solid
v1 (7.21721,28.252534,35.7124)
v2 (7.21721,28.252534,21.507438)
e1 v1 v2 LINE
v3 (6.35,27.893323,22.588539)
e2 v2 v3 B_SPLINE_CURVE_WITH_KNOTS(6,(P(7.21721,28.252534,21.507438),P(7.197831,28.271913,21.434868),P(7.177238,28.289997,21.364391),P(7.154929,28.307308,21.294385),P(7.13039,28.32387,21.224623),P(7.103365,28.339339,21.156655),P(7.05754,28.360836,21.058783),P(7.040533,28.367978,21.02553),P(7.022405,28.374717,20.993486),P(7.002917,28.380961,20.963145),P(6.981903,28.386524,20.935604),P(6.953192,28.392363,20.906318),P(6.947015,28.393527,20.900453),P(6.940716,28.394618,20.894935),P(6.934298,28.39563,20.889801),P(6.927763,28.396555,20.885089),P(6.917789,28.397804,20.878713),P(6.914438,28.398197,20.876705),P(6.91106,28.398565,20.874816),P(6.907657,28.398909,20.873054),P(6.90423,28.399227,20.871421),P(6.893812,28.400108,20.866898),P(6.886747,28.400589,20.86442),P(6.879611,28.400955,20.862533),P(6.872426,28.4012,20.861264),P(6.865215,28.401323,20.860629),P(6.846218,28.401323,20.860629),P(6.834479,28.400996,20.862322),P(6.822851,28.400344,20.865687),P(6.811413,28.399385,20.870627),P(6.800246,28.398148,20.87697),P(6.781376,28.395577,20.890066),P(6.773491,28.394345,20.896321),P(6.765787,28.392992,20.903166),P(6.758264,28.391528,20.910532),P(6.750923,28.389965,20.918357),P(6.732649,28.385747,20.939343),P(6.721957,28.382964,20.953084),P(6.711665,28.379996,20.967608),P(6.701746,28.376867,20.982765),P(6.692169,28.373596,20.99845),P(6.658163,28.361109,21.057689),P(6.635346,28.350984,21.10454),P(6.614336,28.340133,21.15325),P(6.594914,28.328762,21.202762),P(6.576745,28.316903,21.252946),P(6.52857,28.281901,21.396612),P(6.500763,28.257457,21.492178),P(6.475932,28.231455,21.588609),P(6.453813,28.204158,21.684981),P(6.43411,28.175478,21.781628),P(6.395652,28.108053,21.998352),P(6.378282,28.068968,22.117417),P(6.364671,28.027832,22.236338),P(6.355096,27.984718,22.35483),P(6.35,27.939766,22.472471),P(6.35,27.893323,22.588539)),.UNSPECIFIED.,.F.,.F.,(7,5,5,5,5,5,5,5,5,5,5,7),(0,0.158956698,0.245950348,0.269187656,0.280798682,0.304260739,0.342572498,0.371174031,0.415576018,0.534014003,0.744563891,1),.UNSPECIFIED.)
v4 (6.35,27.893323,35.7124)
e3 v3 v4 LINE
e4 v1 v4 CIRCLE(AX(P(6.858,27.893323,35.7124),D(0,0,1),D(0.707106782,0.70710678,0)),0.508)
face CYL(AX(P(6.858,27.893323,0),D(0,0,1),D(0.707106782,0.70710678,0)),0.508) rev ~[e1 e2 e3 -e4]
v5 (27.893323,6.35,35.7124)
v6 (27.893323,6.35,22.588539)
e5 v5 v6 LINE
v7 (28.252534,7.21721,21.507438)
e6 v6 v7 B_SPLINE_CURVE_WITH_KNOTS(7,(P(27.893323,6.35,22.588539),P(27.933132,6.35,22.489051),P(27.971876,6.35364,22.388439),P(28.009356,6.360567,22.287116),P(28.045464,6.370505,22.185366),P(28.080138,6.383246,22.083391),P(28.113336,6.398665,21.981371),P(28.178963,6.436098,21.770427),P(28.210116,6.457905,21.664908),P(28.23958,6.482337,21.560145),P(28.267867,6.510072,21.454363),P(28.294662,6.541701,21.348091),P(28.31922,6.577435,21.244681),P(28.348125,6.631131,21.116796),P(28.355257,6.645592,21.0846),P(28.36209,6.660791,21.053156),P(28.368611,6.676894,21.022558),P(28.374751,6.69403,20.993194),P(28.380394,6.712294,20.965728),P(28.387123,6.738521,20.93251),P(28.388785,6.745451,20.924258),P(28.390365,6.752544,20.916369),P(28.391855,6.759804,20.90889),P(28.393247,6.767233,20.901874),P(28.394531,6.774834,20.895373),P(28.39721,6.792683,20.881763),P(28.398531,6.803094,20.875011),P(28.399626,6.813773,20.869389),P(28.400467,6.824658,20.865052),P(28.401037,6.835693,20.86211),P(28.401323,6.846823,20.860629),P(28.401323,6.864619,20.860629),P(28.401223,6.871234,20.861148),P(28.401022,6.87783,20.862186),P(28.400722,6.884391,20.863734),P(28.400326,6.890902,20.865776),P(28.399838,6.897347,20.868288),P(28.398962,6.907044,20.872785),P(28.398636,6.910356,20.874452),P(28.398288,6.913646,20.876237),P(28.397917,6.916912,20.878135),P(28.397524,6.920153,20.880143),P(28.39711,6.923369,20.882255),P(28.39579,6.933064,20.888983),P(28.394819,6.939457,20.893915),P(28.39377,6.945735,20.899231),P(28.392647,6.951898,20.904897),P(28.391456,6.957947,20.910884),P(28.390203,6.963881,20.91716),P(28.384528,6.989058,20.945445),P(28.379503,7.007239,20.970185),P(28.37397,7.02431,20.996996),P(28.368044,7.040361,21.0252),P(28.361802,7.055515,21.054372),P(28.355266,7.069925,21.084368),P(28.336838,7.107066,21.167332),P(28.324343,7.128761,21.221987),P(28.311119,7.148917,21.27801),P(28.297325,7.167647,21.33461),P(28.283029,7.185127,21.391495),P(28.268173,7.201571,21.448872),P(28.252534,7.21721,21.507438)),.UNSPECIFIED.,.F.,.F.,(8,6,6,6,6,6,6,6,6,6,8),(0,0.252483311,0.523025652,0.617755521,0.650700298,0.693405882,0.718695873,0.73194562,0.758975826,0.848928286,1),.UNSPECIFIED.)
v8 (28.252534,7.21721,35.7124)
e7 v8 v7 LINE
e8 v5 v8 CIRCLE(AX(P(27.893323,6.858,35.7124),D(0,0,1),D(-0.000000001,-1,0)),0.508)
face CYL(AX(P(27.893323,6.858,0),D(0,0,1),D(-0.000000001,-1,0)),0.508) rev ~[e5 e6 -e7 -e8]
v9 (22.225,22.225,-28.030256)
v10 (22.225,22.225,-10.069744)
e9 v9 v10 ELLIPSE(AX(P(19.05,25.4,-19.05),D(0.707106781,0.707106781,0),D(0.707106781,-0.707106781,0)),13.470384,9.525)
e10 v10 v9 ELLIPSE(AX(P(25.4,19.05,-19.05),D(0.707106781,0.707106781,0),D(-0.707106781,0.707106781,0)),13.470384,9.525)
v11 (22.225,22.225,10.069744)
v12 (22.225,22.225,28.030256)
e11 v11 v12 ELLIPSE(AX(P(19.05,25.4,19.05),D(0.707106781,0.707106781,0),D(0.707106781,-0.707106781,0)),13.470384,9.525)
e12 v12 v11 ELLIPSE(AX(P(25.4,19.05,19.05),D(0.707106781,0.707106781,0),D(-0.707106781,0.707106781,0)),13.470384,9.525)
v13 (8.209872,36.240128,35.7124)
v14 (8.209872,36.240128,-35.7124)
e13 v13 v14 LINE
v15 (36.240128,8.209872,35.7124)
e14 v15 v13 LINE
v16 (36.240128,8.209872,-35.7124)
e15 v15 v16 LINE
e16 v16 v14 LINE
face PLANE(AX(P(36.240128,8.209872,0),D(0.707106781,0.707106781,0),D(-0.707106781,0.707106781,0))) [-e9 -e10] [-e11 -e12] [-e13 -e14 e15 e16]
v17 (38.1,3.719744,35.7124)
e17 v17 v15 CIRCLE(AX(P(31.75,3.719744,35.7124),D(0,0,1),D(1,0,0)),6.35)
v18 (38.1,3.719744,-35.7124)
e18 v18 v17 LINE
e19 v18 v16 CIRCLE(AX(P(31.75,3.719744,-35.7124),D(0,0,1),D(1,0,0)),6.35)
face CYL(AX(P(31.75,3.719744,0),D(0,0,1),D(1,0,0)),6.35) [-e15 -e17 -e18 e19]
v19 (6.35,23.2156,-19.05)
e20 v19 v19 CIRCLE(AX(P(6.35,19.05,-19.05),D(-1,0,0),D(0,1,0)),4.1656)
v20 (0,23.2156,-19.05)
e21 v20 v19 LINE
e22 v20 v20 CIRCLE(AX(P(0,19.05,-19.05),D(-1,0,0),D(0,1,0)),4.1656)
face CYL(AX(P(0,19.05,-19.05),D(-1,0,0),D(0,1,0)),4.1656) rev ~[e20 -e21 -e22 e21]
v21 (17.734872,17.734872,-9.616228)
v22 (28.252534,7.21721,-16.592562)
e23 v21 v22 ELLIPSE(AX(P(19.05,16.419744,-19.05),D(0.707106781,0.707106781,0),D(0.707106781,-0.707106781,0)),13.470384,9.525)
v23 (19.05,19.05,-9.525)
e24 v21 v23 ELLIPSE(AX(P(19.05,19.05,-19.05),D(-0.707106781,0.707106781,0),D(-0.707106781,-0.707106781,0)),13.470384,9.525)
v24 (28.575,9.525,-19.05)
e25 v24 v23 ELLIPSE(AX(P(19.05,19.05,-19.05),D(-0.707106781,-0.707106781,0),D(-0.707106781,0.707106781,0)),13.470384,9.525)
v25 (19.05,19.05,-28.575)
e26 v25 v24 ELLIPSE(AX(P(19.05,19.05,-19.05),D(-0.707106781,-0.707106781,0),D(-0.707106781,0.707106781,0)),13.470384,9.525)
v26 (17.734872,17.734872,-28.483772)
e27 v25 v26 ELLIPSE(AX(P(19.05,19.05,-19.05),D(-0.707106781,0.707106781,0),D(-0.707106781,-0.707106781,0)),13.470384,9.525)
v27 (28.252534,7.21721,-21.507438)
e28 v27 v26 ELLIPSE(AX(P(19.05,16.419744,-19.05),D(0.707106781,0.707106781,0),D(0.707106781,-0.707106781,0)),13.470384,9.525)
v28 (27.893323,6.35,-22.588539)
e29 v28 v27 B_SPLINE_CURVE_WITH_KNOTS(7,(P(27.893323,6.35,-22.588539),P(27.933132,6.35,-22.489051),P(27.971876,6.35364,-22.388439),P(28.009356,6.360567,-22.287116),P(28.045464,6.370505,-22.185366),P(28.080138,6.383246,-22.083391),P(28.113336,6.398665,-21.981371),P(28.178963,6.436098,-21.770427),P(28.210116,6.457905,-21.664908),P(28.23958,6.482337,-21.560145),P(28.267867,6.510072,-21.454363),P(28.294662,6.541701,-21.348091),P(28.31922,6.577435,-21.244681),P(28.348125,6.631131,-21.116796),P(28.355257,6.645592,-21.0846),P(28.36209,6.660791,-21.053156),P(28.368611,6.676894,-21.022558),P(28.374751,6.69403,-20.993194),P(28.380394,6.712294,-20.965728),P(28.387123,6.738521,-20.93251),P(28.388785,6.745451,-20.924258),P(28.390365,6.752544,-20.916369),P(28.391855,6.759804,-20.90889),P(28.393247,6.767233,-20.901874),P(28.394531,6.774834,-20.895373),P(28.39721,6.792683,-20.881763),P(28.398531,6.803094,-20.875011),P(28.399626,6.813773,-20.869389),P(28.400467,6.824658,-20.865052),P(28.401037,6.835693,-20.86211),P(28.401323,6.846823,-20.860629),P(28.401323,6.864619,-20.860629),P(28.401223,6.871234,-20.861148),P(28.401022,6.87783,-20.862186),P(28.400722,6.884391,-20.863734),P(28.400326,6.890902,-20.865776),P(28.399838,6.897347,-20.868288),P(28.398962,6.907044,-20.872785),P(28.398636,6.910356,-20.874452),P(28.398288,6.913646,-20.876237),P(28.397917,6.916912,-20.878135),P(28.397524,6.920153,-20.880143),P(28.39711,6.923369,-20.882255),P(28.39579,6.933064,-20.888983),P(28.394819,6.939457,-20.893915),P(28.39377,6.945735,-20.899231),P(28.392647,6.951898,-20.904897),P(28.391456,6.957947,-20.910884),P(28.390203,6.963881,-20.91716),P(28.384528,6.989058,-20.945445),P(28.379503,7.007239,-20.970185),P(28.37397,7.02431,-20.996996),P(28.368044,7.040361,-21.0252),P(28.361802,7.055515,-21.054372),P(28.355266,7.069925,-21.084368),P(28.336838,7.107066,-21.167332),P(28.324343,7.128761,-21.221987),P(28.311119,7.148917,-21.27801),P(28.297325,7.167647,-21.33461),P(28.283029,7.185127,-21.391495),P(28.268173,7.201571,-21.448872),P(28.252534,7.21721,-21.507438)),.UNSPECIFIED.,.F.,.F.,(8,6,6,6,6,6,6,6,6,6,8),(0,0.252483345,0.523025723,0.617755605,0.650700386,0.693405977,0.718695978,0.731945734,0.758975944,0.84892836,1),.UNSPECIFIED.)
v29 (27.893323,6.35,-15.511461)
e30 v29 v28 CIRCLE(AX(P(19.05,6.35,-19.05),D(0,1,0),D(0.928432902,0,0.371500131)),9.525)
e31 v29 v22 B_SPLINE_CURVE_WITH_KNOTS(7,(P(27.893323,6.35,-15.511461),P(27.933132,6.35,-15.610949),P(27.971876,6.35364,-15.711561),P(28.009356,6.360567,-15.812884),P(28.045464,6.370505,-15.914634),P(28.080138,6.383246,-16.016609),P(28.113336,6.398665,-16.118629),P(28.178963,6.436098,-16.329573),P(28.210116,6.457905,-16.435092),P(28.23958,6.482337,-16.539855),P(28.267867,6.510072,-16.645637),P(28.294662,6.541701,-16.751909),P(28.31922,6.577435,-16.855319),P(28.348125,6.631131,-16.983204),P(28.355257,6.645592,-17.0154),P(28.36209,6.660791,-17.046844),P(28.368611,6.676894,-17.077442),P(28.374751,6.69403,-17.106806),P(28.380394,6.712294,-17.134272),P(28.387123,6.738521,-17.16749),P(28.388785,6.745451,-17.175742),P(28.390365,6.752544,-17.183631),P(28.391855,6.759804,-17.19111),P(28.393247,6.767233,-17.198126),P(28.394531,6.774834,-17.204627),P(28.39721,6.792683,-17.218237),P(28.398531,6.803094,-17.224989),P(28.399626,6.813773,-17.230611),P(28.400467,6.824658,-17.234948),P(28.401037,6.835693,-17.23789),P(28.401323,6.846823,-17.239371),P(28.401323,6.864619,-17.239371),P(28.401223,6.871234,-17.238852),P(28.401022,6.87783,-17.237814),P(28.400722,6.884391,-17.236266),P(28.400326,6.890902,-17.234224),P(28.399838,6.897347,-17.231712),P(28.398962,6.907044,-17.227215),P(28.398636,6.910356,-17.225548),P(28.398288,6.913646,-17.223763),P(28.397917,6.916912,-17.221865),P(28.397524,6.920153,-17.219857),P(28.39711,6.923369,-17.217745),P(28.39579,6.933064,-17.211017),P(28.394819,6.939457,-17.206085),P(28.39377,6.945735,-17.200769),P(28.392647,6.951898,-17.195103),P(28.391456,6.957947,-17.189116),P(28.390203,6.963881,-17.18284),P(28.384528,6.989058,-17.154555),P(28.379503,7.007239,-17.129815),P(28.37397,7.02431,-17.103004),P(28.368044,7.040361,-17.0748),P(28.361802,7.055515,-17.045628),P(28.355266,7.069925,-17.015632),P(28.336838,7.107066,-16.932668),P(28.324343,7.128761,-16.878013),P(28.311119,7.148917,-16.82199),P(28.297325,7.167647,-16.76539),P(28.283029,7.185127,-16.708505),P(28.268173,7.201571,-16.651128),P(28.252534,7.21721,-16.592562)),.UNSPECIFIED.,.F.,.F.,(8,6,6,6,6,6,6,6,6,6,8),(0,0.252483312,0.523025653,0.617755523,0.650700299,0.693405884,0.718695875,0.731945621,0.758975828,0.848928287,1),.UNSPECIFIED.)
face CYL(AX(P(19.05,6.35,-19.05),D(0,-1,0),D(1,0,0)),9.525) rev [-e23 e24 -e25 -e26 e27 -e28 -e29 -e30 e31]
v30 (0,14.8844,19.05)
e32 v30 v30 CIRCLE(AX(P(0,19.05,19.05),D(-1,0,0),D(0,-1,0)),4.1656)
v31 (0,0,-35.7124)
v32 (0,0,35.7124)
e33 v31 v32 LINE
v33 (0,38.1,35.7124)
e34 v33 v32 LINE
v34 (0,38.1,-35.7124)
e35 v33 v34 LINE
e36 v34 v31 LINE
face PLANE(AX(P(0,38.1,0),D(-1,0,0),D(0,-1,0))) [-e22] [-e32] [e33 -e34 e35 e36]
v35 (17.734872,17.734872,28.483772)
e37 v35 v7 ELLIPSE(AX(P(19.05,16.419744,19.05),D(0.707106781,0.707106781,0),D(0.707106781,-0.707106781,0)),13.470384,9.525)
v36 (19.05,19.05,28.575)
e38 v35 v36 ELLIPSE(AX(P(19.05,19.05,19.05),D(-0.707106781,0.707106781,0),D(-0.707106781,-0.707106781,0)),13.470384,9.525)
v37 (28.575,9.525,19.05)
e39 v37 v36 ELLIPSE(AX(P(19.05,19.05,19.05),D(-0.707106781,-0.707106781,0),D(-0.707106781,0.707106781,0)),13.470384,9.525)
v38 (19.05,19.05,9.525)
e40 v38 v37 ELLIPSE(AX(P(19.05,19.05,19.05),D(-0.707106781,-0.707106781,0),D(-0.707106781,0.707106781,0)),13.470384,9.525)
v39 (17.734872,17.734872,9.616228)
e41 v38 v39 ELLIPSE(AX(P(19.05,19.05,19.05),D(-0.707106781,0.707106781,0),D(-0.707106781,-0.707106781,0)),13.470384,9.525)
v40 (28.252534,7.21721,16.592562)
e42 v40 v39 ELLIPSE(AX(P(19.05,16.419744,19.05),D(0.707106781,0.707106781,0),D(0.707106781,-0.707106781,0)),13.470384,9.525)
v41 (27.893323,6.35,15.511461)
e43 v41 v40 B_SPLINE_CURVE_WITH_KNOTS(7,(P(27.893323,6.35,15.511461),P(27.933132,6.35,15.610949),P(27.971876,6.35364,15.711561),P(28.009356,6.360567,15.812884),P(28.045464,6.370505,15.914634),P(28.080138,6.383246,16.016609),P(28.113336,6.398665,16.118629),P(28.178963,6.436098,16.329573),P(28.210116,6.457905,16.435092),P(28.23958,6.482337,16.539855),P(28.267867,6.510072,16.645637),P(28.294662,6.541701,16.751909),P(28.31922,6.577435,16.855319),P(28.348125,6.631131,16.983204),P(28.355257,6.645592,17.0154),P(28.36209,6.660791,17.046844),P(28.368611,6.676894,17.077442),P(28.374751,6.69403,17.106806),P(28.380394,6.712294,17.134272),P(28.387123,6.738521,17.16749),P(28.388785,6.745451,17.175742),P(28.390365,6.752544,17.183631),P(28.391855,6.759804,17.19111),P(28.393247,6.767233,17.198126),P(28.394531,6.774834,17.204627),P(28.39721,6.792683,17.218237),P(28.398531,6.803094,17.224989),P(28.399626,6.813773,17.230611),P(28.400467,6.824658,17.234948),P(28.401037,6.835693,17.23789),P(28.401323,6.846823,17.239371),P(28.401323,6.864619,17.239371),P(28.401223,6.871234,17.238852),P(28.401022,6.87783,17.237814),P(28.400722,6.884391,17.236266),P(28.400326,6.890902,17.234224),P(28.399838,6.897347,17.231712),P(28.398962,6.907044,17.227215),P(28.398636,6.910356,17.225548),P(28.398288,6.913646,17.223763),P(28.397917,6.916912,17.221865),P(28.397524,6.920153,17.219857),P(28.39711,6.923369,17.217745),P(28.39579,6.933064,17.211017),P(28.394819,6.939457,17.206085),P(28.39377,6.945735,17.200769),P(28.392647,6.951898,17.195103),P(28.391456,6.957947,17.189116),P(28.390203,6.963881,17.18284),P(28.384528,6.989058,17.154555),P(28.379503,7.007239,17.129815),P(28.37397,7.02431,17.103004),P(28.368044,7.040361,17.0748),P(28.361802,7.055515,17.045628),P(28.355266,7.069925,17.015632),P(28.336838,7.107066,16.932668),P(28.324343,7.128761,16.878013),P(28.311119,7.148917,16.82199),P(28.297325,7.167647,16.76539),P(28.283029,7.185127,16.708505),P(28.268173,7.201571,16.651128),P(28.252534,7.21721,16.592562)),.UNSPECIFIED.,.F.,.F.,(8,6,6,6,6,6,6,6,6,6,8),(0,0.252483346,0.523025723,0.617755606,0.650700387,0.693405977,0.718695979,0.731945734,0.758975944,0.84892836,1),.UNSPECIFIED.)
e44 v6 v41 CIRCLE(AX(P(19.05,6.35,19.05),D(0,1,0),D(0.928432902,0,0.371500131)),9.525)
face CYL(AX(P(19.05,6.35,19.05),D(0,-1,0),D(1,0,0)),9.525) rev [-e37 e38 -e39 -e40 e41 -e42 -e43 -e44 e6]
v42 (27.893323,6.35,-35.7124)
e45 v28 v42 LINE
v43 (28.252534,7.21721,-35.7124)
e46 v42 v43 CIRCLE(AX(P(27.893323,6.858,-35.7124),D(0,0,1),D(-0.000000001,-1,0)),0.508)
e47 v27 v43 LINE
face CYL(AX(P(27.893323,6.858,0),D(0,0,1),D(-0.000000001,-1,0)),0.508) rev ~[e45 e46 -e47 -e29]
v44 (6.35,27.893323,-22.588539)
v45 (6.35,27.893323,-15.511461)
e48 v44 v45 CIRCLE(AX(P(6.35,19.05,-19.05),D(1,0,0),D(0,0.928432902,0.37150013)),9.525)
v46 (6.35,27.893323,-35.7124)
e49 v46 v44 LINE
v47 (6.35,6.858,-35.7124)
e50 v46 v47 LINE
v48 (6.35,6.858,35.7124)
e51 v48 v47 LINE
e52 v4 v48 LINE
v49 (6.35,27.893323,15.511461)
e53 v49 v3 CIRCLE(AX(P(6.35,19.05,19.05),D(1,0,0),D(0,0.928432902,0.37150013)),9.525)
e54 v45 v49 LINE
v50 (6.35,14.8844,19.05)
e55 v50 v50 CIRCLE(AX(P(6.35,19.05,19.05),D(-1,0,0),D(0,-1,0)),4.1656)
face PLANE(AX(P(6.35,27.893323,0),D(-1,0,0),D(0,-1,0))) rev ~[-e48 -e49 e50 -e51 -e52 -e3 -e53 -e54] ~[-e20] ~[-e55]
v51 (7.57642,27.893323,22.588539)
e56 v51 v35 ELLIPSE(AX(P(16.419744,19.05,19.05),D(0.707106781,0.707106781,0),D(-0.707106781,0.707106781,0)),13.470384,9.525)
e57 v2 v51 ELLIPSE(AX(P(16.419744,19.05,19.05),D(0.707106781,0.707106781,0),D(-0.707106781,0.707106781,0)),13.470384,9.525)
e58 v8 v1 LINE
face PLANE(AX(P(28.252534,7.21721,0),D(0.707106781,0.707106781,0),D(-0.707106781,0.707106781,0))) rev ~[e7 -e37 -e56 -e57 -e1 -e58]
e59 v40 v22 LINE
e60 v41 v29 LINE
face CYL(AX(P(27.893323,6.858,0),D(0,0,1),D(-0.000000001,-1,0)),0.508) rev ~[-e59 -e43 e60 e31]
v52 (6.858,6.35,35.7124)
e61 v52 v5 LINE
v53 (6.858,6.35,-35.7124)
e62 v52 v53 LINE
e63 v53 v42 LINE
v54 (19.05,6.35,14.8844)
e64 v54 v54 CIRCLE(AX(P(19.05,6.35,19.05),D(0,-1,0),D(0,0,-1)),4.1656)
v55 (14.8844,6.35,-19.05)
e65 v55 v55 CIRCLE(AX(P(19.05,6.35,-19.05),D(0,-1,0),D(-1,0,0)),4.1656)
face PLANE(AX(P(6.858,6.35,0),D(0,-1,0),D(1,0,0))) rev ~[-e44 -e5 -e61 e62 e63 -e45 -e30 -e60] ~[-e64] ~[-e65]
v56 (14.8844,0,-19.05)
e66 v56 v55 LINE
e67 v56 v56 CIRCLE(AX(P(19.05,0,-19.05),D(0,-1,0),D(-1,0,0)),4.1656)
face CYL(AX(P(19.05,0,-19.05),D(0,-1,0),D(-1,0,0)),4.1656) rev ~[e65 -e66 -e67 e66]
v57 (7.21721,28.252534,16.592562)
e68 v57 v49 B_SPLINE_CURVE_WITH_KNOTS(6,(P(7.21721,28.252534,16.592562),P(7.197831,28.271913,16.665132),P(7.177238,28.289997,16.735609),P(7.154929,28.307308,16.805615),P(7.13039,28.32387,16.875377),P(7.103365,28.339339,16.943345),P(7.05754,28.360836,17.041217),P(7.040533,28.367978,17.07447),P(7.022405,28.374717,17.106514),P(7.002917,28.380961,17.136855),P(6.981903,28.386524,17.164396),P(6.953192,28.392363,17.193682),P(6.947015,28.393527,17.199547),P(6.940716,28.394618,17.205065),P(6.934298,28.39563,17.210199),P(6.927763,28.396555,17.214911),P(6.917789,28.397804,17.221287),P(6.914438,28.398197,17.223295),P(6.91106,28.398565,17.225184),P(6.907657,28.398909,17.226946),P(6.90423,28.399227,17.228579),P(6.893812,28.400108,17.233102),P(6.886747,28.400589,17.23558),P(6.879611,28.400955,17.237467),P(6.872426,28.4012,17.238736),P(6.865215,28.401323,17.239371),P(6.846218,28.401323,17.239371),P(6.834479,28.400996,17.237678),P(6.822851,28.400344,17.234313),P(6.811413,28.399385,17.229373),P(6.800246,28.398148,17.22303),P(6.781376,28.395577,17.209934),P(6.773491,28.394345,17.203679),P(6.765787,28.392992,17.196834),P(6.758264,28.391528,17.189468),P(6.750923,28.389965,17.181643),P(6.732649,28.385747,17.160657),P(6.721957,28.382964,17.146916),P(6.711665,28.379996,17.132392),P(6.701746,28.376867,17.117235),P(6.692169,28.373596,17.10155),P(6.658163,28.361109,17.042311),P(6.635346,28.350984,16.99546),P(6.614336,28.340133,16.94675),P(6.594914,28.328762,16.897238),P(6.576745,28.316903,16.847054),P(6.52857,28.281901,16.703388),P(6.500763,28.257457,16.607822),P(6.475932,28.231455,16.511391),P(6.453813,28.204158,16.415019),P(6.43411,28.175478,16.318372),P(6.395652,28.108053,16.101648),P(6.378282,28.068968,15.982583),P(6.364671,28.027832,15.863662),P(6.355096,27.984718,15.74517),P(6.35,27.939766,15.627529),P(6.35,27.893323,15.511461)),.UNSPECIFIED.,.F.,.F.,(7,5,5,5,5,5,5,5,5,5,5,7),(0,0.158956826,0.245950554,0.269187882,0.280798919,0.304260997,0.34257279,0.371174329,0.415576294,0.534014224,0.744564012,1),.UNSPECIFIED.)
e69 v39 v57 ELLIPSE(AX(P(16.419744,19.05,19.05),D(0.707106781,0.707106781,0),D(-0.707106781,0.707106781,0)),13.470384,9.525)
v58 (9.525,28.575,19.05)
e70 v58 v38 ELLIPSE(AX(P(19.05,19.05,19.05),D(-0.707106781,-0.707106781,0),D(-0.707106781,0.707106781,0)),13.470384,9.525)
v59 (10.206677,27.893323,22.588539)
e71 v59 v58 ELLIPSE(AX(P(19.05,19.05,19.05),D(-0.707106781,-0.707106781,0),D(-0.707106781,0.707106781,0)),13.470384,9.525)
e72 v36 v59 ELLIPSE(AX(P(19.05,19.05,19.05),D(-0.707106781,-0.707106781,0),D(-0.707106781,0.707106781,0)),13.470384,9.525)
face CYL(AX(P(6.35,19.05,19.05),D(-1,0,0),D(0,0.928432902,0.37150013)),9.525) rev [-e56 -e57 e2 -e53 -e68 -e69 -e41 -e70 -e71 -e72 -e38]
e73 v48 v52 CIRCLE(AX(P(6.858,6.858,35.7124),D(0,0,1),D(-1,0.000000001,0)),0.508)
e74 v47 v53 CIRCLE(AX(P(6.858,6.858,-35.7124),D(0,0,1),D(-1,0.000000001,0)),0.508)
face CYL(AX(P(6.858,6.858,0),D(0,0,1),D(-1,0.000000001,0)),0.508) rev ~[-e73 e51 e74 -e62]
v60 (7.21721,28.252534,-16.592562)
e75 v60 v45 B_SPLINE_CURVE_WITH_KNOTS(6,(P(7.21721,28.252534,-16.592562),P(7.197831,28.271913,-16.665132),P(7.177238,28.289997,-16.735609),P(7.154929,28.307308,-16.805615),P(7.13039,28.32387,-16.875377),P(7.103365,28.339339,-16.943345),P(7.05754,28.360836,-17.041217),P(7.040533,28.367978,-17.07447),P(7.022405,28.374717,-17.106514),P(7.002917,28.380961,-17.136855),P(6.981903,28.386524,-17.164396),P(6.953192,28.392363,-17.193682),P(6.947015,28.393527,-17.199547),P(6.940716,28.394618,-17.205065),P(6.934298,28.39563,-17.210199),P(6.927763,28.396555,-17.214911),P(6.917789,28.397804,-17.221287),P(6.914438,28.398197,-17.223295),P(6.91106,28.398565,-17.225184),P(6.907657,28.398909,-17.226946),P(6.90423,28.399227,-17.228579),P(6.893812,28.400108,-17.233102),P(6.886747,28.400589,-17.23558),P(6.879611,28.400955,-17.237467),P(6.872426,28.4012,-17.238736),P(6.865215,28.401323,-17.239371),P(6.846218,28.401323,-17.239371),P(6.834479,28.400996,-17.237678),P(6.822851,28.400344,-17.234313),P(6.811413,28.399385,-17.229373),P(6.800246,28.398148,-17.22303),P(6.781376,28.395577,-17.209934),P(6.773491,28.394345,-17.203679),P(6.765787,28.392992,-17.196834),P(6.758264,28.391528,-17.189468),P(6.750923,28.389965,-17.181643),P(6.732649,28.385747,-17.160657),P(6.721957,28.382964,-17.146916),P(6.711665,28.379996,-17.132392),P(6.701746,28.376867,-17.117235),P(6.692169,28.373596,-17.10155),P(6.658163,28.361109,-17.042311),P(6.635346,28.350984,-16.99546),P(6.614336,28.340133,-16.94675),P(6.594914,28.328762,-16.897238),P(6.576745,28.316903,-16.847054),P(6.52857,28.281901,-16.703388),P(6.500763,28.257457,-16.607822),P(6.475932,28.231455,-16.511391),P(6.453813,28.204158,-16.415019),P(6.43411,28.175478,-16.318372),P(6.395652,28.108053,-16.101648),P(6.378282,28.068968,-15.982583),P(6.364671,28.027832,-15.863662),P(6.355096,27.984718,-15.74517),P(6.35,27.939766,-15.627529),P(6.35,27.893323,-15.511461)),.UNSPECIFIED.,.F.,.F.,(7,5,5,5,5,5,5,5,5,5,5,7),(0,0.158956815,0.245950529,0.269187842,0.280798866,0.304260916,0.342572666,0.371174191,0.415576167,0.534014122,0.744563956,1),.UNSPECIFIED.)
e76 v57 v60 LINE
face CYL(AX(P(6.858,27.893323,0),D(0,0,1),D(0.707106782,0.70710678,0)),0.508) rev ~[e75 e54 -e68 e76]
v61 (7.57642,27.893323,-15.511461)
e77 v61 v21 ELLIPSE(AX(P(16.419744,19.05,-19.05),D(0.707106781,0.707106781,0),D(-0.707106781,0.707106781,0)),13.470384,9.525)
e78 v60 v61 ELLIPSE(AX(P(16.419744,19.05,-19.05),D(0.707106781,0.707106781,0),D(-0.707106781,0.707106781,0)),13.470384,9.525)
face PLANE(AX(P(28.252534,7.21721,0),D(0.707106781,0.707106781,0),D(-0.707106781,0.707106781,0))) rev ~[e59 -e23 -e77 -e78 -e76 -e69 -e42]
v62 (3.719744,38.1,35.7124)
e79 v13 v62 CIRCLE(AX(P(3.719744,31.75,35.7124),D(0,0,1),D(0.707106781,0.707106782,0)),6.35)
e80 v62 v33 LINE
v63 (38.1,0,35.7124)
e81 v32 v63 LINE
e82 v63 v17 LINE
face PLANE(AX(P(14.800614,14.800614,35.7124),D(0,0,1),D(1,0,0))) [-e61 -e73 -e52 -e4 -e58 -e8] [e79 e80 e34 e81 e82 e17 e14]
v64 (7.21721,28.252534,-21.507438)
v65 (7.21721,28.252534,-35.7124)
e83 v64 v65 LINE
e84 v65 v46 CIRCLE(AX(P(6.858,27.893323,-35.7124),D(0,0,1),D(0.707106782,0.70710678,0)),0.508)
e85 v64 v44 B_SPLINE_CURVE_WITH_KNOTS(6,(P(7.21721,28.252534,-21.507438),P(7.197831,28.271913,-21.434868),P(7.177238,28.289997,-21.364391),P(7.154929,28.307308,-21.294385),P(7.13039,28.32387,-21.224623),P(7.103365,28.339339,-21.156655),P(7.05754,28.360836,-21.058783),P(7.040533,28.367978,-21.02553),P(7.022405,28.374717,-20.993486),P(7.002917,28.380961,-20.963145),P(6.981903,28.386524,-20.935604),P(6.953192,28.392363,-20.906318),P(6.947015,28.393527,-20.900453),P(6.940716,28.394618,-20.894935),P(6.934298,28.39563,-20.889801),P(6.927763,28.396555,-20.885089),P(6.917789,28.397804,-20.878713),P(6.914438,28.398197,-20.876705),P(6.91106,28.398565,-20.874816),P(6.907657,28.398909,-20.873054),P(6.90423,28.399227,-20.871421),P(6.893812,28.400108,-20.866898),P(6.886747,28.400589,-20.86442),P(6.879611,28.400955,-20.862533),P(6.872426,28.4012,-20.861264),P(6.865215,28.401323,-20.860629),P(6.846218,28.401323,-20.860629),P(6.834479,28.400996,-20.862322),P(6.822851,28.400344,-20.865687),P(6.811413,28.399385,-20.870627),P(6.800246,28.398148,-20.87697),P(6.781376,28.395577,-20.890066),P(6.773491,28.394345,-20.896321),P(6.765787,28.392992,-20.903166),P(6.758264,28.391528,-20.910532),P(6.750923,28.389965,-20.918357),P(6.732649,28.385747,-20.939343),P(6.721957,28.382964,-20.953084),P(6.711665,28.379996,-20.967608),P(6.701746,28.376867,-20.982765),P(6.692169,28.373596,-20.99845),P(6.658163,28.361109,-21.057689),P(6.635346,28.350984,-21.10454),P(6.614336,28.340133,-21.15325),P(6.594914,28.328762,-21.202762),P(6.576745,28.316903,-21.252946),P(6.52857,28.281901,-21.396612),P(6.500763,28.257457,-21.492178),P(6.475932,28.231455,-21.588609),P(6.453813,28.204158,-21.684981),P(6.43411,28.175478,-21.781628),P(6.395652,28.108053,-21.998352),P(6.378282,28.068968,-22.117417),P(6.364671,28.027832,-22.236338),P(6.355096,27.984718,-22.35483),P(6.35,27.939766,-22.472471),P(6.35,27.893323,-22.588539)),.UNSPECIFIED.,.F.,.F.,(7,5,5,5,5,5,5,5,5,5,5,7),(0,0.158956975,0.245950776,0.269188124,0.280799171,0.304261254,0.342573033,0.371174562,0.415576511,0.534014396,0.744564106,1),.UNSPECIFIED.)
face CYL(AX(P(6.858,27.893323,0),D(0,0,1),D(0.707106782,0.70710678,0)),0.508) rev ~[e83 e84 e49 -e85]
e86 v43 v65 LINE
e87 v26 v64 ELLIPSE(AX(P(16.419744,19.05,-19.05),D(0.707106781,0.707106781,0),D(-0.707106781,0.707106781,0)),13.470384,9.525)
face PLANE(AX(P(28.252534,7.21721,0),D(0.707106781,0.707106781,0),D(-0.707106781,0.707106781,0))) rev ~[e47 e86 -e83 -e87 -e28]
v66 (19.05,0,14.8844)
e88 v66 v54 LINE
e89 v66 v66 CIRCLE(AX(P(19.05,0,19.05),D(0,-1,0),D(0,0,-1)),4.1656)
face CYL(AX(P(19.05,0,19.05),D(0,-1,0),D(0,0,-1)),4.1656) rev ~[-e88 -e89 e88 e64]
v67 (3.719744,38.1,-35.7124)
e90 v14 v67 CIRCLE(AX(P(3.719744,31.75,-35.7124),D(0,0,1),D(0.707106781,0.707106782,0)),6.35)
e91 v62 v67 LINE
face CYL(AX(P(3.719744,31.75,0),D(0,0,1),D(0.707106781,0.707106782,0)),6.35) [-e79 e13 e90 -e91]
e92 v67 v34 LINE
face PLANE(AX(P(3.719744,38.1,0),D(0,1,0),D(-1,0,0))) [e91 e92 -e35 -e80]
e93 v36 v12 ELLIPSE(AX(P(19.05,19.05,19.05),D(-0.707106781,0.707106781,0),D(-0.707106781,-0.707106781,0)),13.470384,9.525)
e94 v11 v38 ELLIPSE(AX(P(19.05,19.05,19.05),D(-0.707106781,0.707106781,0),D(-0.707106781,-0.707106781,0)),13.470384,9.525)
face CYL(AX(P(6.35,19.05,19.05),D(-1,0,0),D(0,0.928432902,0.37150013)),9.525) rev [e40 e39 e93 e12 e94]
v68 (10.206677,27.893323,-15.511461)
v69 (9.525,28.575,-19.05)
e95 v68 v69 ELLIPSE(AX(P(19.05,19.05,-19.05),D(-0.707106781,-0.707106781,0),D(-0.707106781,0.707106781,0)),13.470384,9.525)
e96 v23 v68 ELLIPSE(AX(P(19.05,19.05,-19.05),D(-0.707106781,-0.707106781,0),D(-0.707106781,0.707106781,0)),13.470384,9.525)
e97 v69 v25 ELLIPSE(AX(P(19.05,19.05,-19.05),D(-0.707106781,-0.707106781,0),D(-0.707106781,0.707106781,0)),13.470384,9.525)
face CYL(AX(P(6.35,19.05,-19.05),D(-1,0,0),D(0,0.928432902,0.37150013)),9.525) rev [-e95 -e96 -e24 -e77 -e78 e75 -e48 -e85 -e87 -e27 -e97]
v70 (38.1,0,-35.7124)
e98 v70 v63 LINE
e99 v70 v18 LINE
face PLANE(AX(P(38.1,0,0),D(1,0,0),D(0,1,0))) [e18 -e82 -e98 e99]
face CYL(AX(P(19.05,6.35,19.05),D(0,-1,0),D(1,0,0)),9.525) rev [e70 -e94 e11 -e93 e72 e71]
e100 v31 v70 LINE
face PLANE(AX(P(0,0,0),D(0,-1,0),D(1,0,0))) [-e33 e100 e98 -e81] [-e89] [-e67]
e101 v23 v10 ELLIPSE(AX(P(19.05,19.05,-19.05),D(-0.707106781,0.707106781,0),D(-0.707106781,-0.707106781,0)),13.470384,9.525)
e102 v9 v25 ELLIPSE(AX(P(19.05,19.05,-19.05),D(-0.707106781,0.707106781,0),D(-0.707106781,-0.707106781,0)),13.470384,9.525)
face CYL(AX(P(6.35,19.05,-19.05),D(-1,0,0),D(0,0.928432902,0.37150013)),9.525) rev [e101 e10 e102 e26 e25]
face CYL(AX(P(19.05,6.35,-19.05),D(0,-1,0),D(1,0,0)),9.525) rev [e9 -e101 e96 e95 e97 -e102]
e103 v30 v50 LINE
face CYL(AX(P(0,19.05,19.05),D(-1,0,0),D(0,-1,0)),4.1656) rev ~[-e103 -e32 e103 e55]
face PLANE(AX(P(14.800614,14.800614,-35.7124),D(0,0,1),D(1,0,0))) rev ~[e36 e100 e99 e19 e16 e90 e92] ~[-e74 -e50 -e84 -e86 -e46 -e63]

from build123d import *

# Parameters (mm, degrees)
BOSS_EXTRUDE2_DEPTH = 35.7124
CUT_EXTRUDE1_REACH  = 66.642
SKETCH3_R           = 4.1656
CUT_EXTRUDE2_REACH  = 66.642
SKETCH5_R           = 4.1656
SKETCH6_R           = 9.525
CUT_EXTRUDE3_DEPTH  = 47.498
SKETCH7_R           = 9.525
CUT_EXTRUDE4_DEPTH  = 47.498


with BuildPart() as part:
    # Sketch2 → Boss-Extrude2 (new, symmetric)
    with BuildSketch(Plane.XY):
        with BuildLine():
            Line((0, 38.1), (0, 0))
            Line((0, 0), (38.1, 0))
            Line((38.1, 0), (38.1, 3.719743879))
            ThreePointArc((38.1, 3.719743879), (37.616635031, 6.149783674), (36.240128061, 8.209871939))
            Line((36.240128061, 8.209871939), (8.209871939, 36.240128061))
            ThreePointArc((8.209871939, 36.240128061), (6.149783674, 37.616635031), (3.719743879, 38.1))
            Line((3.719743879, 38.1), (0, 38.1))
        make_face()
        with BuildLine():
            Line((6.35, 27.893323389), (6.35, 6.858))
            ThreePointArc((6.35, 6.858), (6.498789755, 6.498789755), (6.858, 6.35))
            Line((6.858, 6.35), (27.893323389, 6.35))
            ThreePointArc((27.893323389, 6.35), (28.362654192, 6.663596816), (28.252533634, 7.217210245))
            Line((28.252533634, 7.217210245), (7.217210245, 28.252533634))
            ThreePointArc((7.217210245, 28.252533634), (6.663596816, 28.362654192), (6.35, 27.893323389))
        make_face(mode=Mode.SUBTRACT)
    extrude(amount=BOSS_EXTRUDE2_DEPTH, both=True)

    # Sketch3 → Cut-Extrude1 (cut, up to next)
    with BuildSketch(Plane.ZY, mode=Mode.PRIVATE) as cut_extrude1_sk1:
        with Locations(Location((19.05, 19.05, 0), (0, 0, 270))):
            Circle(SKETCH3_R)
    cut_extrude1_tool1 = extrude(cut_extrude1_sk1.sketch, amount=-CUT_EXTRUDE1_REACH, mode=Mode.PRIVATE) & part.part
    # Sketch3 → Cut-Extrude1 (cut, up to next)
    with BuildSketch(Plane.ZY, mode=Mode.PRIVATE) as cut_extrude1_sk2:
        with Locations(Location((-19.05, 19.05, 0), (0, 0, 90))):
            Circle(SKETCH3_R)
    cut_extrude1_tool2 = extrude(cut_extrude1_sk2.sketch, amount=-CUT_EXTRUDE1_REACH, mode=Mode.PRIVATE) & part.part
    add(cut_extrude1_tool1.solids().sort_by_distance((0, 19.05, 19.05))[0], mode=Mode.SUBTRACT)
    add(cut_extrude1_tool2.solids().sort_by_distance((0, 19.05, -19.05))[0], mode=Mode.SUBTRACT)

    # Sketch5 → Cut-Extrude2 (cut, up to next)
    with BuildSketch(Plane.XZ, mode=Mode.PRIVATE) as cut_extrude2_sk1:
        with Locations(Location((19.05, 19.05, 0), (0, 0, 270))):
            Circle(SKETCH5_R)
    cut_extrude2_tool1 = extrude(cut_extrude2_sk1.sketch, amount=-CUT_EXTRUDE2_REACH, mode=Mode.PRIVATE) & part.part
    # Sketch5 → Cut-Extrude2 (cut, up to next)
    with BuildSketch(Plane.XZ, mode=Mode.PRIVATE) as cut_extrude2_sk2:
        with Locations(Location((19.05, -19.05, 0), (0, 0, 180))):
            Circle(SKETCH5_R)
    cut_extrude2_tool2 = extrude(cut_extrude2_sk2.sketch, amount=-CUT_EXTRUDE2_REACH, mode=Mode.PRIVATE) & part.part
    add(cut_extrude2_tool1.solids().sort_by_distance((19.05, 0, 19.05))[0], mode=Mode.SUBTRACT)
    add(cut_extrude2_tool2.solids().sort_by_distance((19.05, 0, -19.05))[0], mode=Mode.SUBTRACT)

    # Sketch6 → Cut-Extrude3 (cut)
    with BuildSketch(Plane(origin=(6.35, 0, 0), x_dir=(0, 0, -1), z_dir=(1, 0, 0))):
        with Locations(Location((-19.05, 19.05, 0), (0, 0, 111.808163998))):
            Circle(SKETCH6_R)
        with Locations(Location((19.05, 19.05, 0), (0, 0, 111.808163998))):
            Circle(SKETCH6_R)
    extrude(amount=CUT_EXTRUDE3_DEPTH, mode=Mode.SUBTRACT)

    # Sketch7 → Cut-Extrude4 (cut)
    with BuildSketch(Plane(origin=(0, 6.35, 0), x_dir=(1, 0, 0), z_dir=(0, 1, 0))):
        with Locations((19.05, 19.05)):
            Circle(SKETCH7_R)
        with Locations((19.05, -19.05)):
            Circle(SKETCH7_R)
    extrude(amount=CUT_EXTRUDE4_DEPTH, mode=Mode.SUBTRACT)


solid = part.part
